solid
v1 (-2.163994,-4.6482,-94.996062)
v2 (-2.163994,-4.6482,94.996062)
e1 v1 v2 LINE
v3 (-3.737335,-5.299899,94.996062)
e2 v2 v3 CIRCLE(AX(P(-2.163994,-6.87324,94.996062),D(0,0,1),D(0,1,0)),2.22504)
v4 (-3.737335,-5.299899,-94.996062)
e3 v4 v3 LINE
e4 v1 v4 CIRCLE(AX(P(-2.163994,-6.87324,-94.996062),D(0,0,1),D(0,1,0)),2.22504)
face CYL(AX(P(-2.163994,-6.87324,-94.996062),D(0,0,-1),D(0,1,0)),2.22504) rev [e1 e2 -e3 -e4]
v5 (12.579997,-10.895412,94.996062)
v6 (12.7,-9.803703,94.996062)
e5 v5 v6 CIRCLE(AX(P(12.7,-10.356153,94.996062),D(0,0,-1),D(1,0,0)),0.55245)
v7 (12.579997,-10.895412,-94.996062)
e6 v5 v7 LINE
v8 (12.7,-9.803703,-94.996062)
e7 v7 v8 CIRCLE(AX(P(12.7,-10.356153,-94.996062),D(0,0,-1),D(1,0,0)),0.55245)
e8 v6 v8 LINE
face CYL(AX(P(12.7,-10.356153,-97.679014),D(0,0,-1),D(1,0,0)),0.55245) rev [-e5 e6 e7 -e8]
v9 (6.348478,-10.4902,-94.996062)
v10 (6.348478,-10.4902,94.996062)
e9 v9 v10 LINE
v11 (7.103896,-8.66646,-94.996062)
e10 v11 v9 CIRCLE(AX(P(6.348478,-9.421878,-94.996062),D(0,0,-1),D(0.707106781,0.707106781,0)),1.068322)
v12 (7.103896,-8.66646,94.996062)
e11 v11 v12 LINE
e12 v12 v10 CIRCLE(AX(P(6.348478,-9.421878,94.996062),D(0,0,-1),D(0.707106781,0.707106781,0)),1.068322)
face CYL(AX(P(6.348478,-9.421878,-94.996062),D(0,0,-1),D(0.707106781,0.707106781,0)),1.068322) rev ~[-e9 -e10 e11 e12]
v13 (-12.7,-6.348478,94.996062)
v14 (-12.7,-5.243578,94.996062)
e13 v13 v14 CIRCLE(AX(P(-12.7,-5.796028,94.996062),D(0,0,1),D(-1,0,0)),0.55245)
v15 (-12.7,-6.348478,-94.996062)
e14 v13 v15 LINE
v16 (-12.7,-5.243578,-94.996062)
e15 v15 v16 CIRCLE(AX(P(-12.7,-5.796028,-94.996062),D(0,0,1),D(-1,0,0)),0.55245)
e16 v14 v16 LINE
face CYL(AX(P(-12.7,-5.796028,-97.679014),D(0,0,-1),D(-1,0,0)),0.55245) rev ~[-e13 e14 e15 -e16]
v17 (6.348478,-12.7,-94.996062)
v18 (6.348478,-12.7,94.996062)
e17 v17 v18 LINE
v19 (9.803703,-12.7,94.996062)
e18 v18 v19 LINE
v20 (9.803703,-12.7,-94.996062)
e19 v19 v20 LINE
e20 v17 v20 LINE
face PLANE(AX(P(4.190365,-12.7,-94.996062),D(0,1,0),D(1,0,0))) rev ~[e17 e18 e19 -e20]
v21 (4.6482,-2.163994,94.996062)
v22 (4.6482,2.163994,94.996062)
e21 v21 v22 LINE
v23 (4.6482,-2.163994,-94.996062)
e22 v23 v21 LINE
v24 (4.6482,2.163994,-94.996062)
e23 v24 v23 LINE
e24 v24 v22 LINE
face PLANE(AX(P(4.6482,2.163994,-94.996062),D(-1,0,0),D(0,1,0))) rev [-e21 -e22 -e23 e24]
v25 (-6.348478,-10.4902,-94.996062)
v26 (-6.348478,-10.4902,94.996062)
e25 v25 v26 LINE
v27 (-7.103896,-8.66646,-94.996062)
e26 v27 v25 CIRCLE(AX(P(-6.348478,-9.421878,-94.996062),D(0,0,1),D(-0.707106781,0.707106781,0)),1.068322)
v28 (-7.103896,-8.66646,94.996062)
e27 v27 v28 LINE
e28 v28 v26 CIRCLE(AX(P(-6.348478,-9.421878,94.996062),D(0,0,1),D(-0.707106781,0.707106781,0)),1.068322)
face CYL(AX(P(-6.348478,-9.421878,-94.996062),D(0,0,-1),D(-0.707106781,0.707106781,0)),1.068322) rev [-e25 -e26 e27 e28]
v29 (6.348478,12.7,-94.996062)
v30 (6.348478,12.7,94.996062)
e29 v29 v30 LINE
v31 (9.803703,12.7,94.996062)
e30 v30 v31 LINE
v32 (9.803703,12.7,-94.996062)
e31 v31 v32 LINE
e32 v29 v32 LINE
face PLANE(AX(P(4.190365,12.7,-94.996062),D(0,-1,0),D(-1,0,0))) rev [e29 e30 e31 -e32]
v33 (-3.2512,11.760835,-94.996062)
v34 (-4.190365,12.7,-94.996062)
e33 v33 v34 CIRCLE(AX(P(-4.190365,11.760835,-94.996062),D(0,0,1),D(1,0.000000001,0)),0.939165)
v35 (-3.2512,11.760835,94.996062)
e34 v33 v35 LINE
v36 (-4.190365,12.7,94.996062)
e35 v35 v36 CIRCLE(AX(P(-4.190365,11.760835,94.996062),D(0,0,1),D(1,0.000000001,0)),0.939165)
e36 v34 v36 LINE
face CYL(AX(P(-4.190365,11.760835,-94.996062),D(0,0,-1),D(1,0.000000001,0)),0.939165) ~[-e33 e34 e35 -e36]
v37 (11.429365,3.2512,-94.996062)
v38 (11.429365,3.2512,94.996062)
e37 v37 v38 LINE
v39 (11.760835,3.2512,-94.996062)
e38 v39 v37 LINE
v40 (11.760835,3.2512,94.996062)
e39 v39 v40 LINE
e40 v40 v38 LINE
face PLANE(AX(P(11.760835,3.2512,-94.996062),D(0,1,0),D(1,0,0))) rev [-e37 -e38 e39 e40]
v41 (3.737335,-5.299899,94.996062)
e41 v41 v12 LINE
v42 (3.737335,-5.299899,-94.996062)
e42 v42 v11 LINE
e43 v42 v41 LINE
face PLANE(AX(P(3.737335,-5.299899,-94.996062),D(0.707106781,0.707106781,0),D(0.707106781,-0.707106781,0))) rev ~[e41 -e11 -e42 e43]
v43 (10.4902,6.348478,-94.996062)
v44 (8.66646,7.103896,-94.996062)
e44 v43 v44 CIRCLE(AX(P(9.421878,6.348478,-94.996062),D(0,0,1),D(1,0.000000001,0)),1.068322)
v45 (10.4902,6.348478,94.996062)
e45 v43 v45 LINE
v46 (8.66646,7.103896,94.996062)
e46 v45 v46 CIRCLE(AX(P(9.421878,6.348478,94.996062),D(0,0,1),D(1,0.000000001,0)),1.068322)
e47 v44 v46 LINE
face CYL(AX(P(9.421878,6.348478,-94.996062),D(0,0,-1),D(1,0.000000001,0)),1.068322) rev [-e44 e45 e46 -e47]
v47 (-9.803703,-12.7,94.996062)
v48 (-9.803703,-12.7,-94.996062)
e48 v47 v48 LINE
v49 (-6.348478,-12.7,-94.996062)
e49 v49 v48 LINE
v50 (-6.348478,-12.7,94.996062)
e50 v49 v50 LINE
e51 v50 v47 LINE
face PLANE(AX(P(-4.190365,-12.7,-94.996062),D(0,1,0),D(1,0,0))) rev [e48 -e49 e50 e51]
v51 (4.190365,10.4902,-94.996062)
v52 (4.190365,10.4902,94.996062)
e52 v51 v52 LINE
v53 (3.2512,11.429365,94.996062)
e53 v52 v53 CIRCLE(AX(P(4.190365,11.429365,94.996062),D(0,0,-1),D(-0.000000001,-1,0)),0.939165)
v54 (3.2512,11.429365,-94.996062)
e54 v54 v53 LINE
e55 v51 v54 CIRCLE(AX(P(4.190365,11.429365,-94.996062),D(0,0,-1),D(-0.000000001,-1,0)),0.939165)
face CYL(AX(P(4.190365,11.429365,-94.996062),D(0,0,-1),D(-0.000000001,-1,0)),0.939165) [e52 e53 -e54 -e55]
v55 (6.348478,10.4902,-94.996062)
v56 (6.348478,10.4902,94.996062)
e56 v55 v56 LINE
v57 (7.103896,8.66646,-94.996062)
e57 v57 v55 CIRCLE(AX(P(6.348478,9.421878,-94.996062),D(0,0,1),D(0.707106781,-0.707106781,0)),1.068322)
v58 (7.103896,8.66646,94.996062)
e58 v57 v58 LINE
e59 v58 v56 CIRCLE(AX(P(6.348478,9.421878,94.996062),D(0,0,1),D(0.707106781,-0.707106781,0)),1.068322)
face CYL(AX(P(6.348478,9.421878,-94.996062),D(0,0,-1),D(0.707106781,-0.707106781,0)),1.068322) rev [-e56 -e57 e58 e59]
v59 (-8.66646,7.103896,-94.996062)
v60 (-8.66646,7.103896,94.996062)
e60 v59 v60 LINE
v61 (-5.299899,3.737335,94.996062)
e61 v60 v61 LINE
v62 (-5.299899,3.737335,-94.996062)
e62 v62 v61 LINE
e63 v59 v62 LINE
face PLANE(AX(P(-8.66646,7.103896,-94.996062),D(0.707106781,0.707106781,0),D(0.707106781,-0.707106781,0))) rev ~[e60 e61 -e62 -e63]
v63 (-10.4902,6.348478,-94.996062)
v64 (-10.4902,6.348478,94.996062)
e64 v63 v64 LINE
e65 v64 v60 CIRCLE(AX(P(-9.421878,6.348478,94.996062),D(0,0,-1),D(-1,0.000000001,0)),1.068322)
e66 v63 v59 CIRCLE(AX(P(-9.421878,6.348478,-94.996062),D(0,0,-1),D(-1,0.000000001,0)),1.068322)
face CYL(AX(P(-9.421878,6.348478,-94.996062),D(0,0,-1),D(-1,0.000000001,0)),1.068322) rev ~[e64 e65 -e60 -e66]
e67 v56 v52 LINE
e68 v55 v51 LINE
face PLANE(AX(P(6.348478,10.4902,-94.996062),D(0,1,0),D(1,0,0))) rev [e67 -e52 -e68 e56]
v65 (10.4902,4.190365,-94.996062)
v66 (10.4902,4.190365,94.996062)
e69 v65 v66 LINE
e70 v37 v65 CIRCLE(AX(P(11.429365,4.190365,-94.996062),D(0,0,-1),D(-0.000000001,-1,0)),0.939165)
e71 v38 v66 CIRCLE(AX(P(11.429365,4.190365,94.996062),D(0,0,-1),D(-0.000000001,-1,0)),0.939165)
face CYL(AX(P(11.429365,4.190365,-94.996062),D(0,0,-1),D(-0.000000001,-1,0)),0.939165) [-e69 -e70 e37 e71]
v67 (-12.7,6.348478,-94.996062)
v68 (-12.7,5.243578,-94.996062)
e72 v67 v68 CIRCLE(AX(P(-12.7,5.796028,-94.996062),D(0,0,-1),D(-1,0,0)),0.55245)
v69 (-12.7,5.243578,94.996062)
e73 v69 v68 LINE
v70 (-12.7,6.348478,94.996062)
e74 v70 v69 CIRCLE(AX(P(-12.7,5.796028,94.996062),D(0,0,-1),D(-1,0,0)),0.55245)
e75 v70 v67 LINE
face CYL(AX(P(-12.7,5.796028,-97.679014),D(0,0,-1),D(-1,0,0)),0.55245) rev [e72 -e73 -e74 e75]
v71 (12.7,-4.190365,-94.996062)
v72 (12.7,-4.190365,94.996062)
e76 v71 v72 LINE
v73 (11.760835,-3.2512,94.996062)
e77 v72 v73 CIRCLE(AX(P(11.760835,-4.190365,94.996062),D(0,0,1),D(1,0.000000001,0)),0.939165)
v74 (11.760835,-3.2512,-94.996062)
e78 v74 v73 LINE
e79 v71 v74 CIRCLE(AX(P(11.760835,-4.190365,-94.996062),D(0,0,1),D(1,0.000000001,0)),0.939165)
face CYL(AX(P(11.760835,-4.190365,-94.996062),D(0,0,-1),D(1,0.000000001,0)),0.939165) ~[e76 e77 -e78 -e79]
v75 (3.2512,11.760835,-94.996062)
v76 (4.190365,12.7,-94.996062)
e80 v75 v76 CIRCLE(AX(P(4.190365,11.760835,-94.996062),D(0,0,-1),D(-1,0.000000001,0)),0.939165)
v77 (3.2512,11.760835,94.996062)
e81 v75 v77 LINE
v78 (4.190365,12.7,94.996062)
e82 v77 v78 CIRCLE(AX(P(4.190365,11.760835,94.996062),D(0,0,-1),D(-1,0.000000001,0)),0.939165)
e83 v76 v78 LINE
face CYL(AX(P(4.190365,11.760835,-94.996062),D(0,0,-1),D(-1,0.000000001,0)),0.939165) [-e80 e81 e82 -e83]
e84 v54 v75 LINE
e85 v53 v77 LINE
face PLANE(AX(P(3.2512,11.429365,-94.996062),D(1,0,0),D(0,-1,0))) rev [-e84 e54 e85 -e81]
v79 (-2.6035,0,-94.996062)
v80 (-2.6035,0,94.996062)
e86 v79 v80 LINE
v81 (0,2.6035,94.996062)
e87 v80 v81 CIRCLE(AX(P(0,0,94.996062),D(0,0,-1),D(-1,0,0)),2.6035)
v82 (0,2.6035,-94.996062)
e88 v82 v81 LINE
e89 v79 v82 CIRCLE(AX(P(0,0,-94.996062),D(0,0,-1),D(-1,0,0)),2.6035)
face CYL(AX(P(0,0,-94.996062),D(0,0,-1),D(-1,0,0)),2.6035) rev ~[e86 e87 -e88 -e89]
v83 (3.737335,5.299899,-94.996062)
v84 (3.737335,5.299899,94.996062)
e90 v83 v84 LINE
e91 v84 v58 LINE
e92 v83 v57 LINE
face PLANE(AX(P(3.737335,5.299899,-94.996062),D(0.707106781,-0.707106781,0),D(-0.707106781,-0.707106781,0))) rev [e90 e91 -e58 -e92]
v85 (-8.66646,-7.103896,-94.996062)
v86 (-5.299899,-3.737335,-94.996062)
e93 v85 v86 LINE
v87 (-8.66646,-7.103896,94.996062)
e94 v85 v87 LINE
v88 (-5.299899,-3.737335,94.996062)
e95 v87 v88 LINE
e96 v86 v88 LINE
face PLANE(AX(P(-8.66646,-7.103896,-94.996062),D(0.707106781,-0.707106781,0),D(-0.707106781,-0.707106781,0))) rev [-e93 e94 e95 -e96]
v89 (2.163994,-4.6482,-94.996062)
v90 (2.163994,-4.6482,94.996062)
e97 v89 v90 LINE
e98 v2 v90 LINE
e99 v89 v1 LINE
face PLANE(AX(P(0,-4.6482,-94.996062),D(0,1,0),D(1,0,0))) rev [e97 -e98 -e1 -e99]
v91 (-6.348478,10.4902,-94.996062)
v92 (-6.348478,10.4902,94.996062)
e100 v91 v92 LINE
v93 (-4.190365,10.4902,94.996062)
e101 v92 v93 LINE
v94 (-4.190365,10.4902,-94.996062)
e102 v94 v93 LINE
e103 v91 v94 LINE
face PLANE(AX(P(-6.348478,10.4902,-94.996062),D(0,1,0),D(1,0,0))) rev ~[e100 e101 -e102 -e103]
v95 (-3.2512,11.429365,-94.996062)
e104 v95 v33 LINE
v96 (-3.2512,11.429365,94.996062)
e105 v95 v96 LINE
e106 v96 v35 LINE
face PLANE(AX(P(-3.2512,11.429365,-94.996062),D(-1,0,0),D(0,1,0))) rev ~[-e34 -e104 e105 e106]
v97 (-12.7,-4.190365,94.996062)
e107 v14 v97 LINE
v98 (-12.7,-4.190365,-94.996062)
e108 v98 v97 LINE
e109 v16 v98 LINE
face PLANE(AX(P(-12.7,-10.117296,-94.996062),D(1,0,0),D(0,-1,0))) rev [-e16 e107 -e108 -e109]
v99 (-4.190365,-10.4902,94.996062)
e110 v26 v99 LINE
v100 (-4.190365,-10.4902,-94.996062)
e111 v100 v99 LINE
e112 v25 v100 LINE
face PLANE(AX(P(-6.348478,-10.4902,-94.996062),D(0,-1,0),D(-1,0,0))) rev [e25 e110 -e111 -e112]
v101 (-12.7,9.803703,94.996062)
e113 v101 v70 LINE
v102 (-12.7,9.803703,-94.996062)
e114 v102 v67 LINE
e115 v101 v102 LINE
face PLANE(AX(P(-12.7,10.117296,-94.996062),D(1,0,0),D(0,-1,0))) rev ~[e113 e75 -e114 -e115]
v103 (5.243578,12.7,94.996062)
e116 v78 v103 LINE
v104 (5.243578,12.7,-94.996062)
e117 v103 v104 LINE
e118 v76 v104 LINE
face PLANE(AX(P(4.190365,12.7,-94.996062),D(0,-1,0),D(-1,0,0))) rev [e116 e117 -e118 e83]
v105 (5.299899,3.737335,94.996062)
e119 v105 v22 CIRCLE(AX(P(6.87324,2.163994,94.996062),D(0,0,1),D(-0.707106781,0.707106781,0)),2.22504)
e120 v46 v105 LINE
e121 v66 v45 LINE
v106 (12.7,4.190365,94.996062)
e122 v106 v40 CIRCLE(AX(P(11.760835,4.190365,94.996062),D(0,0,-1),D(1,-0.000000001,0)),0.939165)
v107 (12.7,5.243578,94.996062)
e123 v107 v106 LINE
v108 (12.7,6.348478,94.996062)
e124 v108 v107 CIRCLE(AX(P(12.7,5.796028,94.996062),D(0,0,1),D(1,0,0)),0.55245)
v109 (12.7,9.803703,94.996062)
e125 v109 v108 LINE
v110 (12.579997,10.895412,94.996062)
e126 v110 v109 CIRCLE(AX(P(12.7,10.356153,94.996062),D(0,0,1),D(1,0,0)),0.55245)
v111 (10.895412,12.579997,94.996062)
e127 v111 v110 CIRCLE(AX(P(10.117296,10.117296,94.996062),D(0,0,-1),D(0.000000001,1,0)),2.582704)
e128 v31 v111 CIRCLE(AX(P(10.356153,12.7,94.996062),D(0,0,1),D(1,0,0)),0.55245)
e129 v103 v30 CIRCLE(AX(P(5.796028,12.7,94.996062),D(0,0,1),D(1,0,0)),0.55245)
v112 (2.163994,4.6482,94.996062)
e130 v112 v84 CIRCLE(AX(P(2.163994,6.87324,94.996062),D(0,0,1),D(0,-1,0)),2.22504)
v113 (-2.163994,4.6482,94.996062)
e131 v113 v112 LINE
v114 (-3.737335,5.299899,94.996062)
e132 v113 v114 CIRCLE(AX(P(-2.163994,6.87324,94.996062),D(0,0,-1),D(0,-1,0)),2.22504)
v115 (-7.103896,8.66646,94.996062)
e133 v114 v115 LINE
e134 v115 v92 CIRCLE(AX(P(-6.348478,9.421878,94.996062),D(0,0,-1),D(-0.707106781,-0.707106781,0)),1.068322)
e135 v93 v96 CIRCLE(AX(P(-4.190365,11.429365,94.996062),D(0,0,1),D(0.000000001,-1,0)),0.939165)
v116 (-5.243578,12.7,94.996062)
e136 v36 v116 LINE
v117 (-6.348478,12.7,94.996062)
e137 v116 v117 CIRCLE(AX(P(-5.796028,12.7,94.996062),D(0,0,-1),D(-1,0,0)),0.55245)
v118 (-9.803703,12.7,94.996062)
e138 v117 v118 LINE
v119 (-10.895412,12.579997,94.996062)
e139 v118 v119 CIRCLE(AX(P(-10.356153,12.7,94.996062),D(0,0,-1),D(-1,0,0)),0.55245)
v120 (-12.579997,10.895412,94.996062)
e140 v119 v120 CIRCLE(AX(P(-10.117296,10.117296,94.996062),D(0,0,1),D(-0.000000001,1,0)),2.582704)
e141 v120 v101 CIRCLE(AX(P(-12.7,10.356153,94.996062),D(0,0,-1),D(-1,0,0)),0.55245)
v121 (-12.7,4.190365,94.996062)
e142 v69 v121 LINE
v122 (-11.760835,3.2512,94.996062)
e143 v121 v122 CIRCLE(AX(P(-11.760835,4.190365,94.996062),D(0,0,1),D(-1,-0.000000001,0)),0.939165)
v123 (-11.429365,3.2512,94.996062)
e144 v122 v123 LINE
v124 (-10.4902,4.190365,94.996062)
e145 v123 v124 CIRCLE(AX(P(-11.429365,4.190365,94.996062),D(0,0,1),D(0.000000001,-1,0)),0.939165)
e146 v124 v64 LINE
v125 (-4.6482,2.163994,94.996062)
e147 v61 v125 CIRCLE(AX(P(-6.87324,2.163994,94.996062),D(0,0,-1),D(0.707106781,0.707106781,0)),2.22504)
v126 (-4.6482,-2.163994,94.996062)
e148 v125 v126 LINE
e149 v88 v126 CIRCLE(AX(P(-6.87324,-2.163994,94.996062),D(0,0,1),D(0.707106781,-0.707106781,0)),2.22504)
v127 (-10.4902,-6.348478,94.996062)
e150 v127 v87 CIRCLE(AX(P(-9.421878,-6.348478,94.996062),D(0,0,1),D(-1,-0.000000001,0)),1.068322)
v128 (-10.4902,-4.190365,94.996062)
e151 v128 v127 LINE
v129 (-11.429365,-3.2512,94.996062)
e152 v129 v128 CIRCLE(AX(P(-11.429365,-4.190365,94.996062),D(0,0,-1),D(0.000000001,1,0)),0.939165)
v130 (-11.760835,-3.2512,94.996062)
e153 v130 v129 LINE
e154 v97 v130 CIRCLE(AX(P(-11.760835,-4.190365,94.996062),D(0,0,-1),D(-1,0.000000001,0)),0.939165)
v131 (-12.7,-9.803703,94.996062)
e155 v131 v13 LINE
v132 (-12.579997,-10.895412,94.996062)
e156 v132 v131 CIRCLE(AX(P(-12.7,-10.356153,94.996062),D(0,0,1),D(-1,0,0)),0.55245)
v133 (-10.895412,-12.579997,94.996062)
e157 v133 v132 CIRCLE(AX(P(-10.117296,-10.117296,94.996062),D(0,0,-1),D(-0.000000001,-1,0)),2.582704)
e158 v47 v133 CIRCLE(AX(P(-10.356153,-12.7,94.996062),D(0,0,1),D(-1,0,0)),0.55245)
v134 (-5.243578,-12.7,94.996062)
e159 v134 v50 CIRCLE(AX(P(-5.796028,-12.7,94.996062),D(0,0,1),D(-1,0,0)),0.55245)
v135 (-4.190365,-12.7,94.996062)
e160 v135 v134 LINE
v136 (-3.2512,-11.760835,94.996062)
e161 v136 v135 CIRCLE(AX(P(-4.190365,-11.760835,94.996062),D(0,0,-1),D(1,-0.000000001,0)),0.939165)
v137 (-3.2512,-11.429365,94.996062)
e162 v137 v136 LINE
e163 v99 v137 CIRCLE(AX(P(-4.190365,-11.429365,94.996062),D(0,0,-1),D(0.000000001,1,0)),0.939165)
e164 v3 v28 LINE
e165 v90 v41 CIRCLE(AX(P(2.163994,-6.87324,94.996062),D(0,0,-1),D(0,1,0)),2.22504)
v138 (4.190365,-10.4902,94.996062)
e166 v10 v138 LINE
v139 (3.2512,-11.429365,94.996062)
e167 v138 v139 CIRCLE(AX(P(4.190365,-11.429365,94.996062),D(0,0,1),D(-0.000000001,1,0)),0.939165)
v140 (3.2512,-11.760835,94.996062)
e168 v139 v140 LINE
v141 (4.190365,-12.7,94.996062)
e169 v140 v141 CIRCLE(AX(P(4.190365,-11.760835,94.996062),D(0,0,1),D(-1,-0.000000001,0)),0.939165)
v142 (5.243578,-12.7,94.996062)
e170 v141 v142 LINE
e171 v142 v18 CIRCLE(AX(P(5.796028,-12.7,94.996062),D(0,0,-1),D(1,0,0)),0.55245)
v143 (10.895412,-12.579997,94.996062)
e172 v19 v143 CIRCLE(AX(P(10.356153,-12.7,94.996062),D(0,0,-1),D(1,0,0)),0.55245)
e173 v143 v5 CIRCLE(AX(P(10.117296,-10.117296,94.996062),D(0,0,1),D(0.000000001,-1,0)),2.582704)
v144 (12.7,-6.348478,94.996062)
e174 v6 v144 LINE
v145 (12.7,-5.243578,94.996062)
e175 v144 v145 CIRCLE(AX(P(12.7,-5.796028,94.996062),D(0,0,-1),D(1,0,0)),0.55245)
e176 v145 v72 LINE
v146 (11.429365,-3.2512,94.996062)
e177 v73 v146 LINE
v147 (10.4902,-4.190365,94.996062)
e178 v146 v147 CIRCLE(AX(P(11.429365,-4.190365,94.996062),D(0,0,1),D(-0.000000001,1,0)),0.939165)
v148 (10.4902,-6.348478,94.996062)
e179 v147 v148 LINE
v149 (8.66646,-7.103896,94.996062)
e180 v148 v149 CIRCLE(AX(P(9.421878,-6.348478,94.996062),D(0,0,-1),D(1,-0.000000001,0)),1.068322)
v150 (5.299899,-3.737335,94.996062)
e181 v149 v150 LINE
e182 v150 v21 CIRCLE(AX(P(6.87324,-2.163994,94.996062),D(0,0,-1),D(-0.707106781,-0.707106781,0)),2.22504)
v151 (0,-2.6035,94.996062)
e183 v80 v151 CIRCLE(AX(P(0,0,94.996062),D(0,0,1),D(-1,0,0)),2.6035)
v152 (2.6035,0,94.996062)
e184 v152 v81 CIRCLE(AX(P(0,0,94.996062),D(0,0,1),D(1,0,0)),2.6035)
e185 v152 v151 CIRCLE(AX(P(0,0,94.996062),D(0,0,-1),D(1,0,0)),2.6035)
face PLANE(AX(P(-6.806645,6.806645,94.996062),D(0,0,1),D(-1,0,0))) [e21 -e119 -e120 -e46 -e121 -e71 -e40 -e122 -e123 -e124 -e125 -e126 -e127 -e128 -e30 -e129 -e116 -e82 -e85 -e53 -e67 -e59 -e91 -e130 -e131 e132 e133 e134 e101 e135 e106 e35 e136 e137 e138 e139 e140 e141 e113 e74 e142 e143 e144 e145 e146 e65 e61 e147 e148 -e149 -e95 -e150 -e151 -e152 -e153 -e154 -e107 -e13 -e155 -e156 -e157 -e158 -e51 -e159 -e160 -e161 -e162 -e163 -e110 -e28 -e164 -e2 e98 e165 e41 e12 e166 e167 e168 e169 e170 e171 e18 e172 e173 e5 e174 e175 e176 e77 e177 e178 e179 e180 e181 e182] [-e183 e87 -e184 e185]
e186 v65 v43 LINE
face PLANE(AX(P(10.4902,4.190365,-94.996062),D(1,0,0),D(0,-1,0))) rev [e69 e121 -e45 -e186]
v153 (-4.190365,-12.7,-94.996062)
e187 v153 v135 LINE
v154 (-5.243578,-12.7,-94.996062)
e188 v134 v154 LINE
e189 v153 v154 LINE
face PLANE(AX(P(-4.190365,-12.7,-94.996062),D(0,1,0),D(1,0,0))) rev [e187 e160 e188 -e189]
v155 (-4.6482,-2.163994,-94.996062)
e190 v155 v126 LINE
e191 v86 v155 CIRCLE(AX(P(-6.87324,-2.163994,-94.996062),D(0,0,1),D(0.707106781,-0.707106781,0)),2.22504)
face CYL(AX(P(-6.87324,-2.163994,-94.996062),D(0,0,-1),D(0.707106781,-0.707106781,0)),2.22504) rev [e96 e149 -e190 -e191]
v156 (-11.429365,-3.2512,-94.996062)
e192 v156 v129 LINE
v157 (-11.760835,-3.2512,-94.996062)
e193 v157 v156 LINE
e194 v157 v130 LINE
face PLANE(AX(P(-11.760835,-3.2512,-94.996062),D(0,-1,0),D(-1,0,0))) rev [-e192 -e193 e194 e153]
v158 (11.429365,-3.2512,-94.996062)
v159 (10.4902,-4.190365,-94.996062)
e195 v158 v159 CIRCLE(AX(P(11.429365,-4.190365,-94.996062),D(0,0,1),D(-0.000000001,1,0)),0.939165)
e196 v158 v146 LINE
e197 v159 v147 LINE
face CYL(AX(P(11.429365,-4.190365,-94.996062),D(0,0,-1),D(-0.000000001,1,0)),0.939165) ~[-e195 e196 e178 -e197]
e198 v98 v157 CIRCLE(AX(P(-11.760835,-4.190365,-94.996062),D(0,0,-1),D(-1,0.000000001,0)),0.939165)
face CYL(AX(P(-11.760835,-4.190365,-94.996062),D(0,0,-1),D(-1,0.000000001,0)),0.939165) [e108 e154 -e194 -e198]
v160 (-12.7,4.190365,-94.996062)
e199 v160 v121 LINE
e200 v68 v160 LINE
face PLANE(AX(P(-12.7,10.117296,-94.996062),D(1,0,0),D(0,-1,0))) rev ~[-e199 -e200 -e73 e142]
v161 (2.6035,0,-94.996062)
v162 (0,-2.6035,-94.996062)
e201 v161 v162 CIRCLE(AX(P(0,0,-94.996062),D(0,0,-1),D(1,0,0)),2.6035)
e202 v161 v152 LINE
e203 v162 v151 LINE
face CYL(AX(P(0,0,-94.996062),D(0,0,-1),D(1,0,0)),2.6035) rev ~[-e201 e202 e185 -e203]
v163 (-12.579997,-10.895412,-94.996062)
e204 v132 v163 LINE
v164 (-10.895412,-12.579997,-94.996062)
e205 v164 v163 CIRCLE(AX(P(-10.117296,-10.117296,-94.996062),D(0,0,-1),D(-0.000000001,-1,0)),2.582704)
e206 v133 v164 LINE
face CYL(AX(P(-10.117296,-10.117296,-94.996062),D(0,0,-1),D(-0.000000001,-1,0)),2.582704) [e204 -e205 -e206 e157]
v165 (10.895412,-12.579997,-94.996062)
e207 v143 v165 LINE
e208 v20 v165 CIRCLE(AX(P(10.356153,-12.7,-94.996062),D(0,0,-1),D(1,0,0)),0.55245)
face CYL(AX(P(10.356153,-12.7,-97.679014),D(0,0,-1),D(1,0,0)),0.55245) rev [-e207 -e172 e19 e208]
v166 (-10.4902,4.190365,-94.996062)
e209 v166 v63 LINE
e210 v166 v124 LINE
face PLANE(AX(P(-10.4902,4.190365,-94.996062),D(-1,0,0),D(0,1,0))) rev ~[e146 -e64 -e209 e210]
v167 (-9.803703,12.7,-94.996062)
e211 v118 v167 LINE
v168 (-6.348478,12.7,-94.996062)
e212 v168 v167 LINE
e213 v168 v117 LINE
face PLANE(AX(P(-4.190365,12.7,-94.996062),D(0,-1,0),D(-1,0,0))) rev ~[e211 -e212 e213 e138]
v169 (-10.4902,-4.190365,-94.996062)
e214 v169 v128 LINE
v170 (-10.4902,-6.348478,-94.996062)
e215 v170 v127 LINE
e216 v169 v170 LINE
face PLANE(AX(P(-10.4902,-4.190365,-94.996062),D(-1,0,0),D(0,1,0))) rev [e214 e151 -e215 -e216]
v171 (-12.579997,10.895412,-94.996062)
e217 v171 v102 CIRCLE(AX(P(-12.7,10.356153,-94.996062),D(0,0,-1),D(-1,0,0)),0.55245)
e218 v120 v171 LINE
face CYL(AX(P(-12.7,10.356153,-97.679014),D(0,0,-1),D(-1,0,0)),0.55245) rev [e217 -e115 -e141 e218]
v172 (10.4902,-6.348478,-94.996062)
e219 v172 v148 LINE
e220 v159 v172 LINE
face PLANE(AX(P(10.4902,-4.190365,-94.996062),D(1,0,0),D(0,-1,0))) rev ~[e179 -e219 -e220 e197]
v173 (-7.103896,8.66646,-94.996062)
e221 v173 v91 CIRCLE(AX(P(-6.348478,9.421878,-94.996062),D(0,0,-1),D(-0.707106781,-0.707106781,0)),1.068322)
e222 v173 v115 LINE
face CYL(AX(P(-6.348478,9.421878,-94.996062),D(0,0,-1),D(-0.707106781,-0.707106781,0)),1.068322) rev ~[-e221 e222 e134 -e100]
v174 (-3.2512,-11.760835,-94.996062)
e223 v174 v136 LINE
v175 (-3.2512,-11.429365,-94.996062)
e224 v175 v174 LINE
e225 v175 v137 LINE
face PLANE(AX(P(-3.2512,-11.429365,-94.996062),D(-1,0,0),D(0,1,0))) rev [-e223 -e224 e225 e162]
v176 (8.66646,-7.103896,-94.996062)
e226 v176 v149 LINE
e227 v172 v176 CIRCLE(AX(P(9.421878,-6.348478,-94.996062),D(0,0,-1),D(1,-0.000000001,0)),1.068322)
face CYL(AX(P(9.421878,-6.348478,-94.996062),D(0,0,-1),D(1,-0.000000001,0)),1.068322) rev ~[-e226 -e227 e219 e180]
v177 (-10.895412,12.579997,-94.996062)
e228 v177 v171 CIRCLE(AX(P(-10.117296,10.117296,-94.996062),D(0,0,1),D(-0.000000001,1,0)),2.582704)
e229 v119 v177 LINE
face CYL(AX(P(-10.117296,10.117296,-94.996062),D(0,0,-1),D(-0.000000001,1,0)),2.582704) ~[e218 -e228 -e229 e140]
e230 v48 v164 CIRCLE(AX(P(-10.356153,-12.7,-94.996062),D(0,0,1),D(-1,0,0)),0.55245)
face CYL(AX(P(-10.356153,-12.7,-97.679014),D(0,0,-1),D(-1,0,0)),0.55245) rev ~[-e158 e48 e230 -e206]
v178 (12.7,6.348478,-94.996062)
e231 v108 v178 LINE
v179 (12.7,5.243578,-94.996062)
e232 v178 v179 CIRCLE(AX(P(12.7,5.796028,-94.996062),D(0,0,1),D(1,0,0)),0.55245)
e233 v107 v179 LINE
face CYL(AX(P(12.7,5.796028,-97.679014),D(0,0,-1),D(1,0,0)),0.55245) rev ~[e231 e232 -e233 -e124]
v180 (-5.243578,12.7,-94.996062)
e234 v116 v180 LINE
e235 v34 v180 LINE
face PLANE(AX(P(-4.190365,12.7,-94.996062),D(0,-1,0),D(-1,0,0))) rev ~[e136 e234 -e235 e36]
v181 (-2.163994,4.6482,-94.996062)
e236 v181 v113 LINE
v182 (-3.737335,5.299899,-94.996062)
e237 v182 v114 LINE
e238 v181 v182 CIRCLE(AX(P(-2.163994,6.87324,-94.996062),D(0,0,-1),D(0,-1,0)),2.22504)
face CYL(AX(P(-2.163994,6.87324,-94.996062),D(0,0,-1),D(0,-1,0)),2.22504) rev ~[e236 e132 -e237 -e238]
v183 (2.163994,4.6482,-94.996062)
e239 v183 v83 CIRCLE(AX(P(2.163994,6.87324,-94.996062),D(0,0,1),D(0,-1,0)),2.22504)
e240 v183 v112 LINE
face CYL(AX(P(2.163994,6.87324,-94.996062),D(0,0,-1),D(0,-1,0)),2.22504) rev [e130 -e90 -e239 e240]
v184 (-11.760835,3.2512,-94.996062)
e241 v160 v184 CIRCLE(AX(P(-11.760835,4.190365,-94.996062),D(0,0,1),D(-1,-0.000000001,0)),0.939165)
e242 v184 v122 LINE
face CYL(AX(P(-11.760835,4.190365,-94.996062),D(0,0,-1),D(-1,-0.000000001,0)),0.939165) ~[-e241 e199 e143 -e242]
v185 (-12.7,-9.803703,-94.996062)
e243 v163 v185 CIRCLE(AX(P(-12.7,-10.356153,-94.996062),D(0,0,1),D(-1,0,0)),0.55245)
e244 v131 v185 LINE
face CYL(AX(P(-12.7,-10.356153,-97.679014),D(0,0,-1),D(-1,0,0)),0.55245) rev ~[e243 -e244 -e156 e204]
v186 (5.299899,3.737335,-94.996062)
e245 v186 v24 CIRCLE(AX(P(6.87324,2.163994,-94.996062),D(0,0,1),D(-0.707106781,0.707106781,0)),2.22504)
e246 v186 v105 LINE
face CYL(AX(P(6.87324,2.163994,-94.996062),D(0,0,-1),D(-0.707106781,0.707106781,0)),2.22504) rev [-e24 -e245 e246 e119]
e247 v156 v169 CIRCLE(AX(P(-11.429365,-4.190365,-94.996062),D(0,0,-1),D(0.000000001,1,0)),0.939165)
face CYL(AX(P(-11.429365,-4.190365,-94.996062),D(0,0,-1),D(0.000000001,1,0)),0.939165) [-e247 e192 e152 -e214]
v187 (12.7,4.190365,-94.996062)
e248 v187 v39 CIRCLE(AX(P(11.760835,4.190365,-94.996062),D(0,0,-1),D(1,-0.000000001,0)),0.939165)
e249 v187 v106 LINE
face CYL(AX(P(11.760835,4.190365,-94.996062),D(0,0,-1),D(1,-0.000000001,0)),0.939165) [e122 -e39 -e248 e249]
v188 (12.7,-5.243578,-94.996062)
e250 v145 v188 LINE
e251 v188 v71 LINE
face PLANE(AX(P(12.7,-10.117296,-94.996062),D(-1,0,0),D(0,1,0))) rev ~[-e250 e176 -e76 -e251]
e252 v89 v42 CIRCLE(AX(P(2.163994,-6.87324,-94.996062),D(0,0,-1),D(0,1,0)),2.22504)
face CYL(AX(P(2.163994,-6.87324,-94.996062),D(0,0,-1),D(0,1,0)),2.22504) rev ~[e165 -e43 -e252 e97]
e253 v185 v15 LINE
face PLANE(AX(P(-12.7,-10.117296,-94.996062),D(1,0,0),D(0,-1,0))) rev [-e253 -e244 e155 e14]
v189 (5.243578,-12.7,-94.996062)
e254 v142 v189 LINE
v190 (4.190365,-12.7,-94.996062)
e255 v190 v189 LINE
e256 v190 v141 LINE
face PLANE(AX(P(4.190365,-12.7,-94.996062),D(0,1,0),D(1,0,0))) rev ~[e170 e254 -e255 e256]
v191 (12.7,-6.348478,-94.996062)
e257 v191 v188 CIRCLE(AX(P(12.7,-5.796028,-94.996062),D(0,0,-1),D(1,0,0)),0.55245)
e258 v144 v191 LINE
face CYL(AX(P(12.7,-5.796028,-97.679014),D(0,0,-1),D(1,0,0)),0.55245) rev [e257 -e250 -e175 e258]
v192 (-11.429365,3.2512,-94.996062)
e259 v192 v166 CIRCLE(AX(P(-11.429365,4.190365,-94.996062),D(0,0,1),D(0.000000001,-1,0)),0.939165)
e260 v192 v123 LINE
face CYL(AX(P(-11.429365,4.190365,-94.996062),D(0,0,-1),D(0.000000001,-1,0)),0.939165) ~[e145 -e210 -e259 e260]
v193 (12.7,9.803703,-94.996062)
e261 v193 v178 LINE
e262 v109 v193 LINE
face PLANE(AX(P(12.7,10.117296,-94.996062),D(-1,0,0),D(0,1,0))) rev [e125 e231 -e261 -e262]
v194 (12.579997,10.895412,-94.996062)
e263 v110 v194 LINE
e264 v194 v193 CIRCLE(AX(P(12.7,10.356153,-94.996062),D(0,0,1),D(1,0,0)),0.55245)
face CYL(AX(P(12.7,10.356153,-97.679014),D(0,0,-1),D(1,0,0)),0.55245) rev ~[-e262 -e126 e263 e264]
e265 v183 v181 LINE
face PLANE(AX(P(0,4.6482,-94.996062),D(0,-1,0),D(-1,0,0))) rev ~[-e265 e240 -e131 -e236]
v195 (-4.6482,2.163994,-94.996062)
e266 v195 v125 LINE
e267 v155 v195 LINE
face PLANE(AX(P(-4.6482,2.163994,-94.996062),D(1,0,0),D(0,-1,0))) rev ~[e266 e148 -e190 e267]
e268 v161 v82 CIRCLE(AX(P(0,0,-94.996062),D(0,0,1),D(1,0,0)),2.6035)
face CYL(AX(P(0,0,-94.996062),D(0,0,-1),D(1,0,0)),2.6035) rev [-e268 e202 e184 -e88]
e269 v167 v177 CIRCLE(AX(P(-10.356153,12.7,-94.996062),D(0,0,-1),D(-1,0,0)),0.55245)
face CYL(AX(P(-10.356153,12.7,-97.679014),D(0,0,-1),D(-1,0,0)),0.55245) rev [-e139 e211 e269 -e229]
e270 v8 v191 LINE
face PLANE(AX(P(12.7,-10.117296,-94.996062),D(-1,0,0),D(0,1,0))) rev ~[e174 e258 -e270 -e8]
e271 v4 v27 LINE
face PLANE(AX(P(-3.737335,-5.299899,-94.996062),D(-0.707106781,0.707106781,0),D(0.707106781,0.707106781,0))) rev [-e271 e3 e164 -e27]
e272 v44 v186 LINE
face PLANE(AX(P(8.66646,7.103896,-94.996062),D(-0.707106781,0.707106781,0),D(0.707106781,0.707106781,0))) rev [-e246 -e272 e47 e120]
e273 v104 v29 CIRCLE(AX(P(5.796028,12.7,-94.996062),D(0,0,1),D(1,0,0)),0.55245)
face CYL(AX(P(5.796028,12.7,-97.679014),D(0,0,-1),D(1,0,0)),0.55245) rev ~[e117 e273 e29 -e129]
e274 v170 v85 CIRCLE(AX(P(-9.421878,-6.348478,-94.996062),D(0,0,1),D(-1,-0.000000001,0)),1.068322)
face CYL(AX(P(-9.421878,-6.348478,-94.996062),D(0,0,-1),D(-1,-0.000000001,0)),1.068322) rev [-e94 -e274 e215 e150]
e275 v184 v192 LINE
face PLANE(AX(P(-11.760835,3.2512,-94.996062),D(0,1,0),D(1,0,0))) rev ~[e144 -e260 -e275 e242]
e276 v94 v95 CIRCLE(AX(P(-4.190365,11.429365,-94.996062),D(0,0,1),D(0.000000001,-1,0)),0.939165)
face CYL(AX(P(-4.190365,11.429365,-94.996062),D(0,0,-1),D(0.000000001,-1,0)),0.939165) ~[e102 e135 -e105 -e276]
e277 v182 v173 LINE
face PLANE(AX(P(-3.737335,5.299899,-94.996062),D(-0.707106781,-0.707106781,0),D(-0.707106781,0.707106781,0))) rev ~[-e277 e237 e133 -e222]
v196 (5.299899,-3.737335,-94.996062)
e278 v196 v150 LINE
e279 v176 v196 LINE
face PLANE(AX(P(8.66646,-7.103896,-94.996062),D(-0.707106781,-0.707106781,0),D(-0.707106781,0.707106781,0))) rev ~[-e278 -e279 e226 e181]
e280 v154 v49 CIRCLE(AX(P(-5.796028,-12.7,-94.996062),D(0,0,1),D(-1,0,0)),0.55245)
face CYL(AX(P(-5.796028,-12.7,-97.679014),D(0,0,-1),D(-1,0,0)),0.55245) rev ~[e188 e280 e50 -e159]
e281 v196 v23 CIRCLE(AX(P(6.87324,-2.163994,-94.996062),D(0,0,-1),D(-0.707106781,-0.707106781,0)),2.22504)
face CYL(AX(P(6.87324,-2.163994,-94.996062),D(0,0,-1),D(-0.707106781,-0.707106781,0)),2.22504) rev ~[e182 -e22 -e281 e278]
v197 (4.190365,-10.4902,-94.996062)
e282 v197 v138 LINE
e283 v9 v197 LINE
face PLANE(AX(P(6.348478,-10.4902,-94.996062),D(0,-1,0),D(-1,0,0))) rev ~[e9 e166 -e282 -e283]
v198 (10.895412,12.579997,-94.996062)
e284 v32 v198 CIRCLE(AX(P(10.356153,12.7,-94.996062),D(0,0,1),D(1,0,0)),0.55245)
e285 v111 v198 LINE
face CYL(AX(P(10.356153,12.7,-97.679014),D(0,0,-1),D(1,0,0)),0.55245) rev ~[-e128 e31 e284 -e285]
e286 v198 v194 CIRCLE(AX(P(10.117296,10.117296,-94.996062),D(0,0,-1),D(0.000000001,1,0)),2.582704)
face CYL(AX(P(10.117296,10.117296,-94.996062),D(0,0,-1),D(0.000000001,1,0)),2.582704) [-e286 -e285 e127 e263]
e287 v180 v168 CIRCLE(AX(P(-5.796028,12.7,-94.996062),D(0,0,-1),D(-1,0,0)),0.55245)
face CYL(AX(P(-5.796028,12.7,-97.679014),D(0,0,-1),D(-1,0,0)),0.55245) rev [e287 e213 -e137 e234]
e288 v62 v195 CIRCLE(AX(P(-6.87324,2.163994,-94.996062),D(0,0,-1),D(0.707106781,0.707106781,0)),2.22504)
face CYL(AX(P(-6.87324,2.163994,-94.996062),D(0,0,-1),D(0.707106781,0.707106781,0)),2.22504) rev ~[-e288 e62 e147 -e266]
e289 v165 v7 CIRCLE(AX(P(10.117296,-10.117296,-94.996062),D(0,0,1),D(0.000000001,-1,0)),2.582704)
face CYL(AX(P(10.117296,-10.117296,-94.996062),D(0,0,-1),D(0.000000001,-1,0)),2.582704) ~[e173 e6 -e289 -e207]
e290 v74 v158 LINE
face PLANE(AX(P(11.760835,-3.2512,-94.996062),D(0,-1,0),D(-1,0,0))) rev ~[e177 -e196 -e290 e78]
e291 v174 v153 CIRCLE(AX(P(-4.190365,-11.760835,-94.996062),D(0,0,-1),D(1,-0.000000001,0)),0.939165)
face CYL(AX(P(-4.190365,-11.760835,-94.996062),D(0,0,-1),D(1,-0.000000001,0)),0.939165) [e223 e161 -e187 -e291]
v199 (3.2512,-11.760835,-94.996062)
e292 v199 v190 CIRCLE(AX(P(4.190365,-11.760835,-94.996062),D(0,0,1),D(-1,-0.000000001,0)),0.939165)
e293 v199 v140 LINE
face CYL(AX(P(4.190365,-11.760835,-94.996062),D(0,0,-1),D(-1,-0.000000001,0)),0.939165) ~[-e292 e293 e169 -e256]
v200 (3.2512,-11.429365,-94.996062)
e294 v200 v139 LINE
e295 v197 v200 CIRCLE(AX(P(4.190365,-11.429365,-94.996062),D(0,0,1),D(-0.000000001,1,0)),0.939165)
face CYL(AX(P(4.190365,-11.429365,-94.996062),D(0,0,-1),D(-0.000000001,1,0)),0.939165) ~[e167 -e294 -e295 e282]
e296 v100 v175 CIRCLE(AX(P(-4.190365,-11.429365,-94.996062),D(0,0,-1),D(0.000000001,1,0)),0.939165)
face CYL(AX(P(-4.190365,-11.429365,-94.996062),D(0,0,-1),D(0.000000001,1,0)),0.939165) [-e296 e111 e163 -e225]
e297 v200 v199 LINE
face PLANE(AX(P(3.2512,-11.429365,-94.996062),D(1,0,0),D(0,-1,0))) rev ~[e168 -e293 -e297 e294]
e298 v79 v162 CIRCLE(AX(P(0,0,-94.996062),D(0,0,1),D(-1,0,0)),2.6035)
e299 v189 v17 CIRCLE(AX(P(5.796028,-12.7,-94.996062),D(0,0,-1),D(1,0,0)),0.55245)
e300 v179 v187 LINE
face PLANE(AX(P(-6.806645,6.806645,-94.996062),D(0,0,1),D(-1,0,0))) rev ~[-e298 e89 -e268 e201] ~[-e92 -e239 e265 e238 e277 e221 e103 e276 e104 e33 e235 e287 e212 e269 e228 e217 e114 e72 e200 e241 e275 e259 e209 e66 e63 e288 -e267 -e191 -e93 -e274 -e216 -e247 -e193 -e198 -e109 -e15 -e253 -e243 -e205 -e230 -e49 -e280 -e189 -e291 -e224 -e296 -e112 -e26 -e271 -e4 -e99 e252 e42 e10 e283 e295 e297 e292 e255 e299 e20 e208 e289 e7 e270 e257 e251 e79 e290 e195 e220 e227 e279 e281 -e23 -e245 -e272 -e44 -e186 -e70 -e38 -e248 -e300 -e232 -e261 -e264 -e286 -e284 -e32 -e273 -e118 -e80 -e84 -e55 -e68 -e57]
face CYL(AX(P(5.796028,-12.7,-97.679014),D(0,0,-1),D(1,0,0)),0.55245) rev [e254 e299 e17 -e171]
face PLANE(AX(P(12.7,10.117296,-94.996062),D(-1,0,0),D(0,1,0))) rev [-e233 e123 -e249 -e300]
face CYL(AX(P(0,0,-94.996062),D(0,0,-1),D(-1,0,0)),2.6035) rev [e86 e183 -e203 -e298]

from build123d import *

# Parameters (mm, degrees)
BOSS_EXTRUDE1_START     = -94.996062
BOSS_EXTRUDE1_DEPTH     = 189.992124
CUT_EXTRUDE1_DEPTH      = 97.679014246
CUT_EXTRUDE1_DEPTH_BACK = 97.679014246
SKETCH5_R               = 0.55245


with BuildPart() as part:
    # Sketch4 → Boss-Extrude1 (new body)
    with BuildSketch(Plane.XY.offset(BOSS_EXTRUDE1_START)):
        with BuildLine():
            Line((4.190365, -12.7), (10.11729625, -12.7))
            ThreePointArc((10.11729625, -12.7), (11.943543585, -11.943543585), (12.7, -10.11729625))
            Line((12.7, -10.11729625), (12.7, -4.190365))
            ThreePointArc((12.7, -4.190365), (12.42492494, -3.52627506), (11.760835, -3.2512))
            Line((11.760835, -3.2512), (11.429365, -3.2512))
            ThreePointArc((11.429365, -3.2512), (10.76527506, -3.52627506), (10.4902, -4.190365))
            Line((10.4902, -4.190365), (10.4902, -6.348478019))
            ThreePointArc((10.4902, -6.348478019), (9.830707141, -7.335478831), (8.666460301, -7.103895736))
            Line((8.666460301, -7.103895736), (5.299899128, -3.737334563))
            ThreePointArc((5.299899128, -3.737334563), (4.817571085, -3.015479634), (4.6482, -2.16399369))
            Line((4.6482, -2.16399369), (4.6482, 0))
            Line((4.6482, 0), (2.6035, 0))
            ThreePointArc((2.6035, 0), (1.840952505, -1.840952505), (0, -2.6035))
            Line((0, -2.6035), (0, -4.6482))
            Line((0, -4.6482), (2.16399369, -4.6482))
            ThreePointArc((2.16399369, -4.6482), (3.015479634, -4.817571085), (3.737334563, -5.299899128))
            Line((3.737334563, -5.299899128), (7.103895736, -8.666460301))
            ThreePointArc((7.103895736, -8.666460301), (7.335478831, -9.830707141), (6.348478019, -10.4902))
            Line((6.348478019, -10.4902), (4.190365, -10.4902))
            ThreePointArc((4.190365, -10.4902), (3.52627506, -10.76527506), (3.2512, -11.429365))
            Line((3.2512, -11.429365), (3.2512, -11.760835))
            ThreePointArc((3.2512, -11.760835), (3.52627506, -12.42492494), (4.190365, -12.7))
        make_face()
    extrude(amount=BOSS_EXTRUDE1_DEPTH)

    # Sketch5 → Cut-Extrude1 (cut, two sides: drawn at the far end of the back side and taken through both)
    with BuildSketch(Plane.XY.offset(-CUT_EXTRUDE1_DEPTH_BACK)):
        with Locations((10.356153152, -12.7)):
            Circle(SKETCH5_R)
        with Locations((5.796028019, -12.7)):
            Circle(SKETCH5_R)
        with Locations((12.7, -10.356153152)):
            Circle(SKETCH5_R)
        with Locations((12.7, -5.796028019)):
            Circle(SKETCH5_R)
    extrude(amount=CUT_EXTRUDE1_DEPTH + CUT_EXTRUDE1_DEPTH_BACK, mode=Mode.SUBTRACT)

    # Mirror1: part across plane


with BuildPart() as part_1:
    add(part.part)
    add(part.part.mirror(Plane(origin=(0, 0, 0), x_dir=(0, 0, 1), z_dir=(1, 0, 0))))

    # Mirror2: part across plane


with BuildPart() as part_2:
    add(part_1.part)
    add(part_1.part.mirror(Plane.ZX))


solid = part_2.part
